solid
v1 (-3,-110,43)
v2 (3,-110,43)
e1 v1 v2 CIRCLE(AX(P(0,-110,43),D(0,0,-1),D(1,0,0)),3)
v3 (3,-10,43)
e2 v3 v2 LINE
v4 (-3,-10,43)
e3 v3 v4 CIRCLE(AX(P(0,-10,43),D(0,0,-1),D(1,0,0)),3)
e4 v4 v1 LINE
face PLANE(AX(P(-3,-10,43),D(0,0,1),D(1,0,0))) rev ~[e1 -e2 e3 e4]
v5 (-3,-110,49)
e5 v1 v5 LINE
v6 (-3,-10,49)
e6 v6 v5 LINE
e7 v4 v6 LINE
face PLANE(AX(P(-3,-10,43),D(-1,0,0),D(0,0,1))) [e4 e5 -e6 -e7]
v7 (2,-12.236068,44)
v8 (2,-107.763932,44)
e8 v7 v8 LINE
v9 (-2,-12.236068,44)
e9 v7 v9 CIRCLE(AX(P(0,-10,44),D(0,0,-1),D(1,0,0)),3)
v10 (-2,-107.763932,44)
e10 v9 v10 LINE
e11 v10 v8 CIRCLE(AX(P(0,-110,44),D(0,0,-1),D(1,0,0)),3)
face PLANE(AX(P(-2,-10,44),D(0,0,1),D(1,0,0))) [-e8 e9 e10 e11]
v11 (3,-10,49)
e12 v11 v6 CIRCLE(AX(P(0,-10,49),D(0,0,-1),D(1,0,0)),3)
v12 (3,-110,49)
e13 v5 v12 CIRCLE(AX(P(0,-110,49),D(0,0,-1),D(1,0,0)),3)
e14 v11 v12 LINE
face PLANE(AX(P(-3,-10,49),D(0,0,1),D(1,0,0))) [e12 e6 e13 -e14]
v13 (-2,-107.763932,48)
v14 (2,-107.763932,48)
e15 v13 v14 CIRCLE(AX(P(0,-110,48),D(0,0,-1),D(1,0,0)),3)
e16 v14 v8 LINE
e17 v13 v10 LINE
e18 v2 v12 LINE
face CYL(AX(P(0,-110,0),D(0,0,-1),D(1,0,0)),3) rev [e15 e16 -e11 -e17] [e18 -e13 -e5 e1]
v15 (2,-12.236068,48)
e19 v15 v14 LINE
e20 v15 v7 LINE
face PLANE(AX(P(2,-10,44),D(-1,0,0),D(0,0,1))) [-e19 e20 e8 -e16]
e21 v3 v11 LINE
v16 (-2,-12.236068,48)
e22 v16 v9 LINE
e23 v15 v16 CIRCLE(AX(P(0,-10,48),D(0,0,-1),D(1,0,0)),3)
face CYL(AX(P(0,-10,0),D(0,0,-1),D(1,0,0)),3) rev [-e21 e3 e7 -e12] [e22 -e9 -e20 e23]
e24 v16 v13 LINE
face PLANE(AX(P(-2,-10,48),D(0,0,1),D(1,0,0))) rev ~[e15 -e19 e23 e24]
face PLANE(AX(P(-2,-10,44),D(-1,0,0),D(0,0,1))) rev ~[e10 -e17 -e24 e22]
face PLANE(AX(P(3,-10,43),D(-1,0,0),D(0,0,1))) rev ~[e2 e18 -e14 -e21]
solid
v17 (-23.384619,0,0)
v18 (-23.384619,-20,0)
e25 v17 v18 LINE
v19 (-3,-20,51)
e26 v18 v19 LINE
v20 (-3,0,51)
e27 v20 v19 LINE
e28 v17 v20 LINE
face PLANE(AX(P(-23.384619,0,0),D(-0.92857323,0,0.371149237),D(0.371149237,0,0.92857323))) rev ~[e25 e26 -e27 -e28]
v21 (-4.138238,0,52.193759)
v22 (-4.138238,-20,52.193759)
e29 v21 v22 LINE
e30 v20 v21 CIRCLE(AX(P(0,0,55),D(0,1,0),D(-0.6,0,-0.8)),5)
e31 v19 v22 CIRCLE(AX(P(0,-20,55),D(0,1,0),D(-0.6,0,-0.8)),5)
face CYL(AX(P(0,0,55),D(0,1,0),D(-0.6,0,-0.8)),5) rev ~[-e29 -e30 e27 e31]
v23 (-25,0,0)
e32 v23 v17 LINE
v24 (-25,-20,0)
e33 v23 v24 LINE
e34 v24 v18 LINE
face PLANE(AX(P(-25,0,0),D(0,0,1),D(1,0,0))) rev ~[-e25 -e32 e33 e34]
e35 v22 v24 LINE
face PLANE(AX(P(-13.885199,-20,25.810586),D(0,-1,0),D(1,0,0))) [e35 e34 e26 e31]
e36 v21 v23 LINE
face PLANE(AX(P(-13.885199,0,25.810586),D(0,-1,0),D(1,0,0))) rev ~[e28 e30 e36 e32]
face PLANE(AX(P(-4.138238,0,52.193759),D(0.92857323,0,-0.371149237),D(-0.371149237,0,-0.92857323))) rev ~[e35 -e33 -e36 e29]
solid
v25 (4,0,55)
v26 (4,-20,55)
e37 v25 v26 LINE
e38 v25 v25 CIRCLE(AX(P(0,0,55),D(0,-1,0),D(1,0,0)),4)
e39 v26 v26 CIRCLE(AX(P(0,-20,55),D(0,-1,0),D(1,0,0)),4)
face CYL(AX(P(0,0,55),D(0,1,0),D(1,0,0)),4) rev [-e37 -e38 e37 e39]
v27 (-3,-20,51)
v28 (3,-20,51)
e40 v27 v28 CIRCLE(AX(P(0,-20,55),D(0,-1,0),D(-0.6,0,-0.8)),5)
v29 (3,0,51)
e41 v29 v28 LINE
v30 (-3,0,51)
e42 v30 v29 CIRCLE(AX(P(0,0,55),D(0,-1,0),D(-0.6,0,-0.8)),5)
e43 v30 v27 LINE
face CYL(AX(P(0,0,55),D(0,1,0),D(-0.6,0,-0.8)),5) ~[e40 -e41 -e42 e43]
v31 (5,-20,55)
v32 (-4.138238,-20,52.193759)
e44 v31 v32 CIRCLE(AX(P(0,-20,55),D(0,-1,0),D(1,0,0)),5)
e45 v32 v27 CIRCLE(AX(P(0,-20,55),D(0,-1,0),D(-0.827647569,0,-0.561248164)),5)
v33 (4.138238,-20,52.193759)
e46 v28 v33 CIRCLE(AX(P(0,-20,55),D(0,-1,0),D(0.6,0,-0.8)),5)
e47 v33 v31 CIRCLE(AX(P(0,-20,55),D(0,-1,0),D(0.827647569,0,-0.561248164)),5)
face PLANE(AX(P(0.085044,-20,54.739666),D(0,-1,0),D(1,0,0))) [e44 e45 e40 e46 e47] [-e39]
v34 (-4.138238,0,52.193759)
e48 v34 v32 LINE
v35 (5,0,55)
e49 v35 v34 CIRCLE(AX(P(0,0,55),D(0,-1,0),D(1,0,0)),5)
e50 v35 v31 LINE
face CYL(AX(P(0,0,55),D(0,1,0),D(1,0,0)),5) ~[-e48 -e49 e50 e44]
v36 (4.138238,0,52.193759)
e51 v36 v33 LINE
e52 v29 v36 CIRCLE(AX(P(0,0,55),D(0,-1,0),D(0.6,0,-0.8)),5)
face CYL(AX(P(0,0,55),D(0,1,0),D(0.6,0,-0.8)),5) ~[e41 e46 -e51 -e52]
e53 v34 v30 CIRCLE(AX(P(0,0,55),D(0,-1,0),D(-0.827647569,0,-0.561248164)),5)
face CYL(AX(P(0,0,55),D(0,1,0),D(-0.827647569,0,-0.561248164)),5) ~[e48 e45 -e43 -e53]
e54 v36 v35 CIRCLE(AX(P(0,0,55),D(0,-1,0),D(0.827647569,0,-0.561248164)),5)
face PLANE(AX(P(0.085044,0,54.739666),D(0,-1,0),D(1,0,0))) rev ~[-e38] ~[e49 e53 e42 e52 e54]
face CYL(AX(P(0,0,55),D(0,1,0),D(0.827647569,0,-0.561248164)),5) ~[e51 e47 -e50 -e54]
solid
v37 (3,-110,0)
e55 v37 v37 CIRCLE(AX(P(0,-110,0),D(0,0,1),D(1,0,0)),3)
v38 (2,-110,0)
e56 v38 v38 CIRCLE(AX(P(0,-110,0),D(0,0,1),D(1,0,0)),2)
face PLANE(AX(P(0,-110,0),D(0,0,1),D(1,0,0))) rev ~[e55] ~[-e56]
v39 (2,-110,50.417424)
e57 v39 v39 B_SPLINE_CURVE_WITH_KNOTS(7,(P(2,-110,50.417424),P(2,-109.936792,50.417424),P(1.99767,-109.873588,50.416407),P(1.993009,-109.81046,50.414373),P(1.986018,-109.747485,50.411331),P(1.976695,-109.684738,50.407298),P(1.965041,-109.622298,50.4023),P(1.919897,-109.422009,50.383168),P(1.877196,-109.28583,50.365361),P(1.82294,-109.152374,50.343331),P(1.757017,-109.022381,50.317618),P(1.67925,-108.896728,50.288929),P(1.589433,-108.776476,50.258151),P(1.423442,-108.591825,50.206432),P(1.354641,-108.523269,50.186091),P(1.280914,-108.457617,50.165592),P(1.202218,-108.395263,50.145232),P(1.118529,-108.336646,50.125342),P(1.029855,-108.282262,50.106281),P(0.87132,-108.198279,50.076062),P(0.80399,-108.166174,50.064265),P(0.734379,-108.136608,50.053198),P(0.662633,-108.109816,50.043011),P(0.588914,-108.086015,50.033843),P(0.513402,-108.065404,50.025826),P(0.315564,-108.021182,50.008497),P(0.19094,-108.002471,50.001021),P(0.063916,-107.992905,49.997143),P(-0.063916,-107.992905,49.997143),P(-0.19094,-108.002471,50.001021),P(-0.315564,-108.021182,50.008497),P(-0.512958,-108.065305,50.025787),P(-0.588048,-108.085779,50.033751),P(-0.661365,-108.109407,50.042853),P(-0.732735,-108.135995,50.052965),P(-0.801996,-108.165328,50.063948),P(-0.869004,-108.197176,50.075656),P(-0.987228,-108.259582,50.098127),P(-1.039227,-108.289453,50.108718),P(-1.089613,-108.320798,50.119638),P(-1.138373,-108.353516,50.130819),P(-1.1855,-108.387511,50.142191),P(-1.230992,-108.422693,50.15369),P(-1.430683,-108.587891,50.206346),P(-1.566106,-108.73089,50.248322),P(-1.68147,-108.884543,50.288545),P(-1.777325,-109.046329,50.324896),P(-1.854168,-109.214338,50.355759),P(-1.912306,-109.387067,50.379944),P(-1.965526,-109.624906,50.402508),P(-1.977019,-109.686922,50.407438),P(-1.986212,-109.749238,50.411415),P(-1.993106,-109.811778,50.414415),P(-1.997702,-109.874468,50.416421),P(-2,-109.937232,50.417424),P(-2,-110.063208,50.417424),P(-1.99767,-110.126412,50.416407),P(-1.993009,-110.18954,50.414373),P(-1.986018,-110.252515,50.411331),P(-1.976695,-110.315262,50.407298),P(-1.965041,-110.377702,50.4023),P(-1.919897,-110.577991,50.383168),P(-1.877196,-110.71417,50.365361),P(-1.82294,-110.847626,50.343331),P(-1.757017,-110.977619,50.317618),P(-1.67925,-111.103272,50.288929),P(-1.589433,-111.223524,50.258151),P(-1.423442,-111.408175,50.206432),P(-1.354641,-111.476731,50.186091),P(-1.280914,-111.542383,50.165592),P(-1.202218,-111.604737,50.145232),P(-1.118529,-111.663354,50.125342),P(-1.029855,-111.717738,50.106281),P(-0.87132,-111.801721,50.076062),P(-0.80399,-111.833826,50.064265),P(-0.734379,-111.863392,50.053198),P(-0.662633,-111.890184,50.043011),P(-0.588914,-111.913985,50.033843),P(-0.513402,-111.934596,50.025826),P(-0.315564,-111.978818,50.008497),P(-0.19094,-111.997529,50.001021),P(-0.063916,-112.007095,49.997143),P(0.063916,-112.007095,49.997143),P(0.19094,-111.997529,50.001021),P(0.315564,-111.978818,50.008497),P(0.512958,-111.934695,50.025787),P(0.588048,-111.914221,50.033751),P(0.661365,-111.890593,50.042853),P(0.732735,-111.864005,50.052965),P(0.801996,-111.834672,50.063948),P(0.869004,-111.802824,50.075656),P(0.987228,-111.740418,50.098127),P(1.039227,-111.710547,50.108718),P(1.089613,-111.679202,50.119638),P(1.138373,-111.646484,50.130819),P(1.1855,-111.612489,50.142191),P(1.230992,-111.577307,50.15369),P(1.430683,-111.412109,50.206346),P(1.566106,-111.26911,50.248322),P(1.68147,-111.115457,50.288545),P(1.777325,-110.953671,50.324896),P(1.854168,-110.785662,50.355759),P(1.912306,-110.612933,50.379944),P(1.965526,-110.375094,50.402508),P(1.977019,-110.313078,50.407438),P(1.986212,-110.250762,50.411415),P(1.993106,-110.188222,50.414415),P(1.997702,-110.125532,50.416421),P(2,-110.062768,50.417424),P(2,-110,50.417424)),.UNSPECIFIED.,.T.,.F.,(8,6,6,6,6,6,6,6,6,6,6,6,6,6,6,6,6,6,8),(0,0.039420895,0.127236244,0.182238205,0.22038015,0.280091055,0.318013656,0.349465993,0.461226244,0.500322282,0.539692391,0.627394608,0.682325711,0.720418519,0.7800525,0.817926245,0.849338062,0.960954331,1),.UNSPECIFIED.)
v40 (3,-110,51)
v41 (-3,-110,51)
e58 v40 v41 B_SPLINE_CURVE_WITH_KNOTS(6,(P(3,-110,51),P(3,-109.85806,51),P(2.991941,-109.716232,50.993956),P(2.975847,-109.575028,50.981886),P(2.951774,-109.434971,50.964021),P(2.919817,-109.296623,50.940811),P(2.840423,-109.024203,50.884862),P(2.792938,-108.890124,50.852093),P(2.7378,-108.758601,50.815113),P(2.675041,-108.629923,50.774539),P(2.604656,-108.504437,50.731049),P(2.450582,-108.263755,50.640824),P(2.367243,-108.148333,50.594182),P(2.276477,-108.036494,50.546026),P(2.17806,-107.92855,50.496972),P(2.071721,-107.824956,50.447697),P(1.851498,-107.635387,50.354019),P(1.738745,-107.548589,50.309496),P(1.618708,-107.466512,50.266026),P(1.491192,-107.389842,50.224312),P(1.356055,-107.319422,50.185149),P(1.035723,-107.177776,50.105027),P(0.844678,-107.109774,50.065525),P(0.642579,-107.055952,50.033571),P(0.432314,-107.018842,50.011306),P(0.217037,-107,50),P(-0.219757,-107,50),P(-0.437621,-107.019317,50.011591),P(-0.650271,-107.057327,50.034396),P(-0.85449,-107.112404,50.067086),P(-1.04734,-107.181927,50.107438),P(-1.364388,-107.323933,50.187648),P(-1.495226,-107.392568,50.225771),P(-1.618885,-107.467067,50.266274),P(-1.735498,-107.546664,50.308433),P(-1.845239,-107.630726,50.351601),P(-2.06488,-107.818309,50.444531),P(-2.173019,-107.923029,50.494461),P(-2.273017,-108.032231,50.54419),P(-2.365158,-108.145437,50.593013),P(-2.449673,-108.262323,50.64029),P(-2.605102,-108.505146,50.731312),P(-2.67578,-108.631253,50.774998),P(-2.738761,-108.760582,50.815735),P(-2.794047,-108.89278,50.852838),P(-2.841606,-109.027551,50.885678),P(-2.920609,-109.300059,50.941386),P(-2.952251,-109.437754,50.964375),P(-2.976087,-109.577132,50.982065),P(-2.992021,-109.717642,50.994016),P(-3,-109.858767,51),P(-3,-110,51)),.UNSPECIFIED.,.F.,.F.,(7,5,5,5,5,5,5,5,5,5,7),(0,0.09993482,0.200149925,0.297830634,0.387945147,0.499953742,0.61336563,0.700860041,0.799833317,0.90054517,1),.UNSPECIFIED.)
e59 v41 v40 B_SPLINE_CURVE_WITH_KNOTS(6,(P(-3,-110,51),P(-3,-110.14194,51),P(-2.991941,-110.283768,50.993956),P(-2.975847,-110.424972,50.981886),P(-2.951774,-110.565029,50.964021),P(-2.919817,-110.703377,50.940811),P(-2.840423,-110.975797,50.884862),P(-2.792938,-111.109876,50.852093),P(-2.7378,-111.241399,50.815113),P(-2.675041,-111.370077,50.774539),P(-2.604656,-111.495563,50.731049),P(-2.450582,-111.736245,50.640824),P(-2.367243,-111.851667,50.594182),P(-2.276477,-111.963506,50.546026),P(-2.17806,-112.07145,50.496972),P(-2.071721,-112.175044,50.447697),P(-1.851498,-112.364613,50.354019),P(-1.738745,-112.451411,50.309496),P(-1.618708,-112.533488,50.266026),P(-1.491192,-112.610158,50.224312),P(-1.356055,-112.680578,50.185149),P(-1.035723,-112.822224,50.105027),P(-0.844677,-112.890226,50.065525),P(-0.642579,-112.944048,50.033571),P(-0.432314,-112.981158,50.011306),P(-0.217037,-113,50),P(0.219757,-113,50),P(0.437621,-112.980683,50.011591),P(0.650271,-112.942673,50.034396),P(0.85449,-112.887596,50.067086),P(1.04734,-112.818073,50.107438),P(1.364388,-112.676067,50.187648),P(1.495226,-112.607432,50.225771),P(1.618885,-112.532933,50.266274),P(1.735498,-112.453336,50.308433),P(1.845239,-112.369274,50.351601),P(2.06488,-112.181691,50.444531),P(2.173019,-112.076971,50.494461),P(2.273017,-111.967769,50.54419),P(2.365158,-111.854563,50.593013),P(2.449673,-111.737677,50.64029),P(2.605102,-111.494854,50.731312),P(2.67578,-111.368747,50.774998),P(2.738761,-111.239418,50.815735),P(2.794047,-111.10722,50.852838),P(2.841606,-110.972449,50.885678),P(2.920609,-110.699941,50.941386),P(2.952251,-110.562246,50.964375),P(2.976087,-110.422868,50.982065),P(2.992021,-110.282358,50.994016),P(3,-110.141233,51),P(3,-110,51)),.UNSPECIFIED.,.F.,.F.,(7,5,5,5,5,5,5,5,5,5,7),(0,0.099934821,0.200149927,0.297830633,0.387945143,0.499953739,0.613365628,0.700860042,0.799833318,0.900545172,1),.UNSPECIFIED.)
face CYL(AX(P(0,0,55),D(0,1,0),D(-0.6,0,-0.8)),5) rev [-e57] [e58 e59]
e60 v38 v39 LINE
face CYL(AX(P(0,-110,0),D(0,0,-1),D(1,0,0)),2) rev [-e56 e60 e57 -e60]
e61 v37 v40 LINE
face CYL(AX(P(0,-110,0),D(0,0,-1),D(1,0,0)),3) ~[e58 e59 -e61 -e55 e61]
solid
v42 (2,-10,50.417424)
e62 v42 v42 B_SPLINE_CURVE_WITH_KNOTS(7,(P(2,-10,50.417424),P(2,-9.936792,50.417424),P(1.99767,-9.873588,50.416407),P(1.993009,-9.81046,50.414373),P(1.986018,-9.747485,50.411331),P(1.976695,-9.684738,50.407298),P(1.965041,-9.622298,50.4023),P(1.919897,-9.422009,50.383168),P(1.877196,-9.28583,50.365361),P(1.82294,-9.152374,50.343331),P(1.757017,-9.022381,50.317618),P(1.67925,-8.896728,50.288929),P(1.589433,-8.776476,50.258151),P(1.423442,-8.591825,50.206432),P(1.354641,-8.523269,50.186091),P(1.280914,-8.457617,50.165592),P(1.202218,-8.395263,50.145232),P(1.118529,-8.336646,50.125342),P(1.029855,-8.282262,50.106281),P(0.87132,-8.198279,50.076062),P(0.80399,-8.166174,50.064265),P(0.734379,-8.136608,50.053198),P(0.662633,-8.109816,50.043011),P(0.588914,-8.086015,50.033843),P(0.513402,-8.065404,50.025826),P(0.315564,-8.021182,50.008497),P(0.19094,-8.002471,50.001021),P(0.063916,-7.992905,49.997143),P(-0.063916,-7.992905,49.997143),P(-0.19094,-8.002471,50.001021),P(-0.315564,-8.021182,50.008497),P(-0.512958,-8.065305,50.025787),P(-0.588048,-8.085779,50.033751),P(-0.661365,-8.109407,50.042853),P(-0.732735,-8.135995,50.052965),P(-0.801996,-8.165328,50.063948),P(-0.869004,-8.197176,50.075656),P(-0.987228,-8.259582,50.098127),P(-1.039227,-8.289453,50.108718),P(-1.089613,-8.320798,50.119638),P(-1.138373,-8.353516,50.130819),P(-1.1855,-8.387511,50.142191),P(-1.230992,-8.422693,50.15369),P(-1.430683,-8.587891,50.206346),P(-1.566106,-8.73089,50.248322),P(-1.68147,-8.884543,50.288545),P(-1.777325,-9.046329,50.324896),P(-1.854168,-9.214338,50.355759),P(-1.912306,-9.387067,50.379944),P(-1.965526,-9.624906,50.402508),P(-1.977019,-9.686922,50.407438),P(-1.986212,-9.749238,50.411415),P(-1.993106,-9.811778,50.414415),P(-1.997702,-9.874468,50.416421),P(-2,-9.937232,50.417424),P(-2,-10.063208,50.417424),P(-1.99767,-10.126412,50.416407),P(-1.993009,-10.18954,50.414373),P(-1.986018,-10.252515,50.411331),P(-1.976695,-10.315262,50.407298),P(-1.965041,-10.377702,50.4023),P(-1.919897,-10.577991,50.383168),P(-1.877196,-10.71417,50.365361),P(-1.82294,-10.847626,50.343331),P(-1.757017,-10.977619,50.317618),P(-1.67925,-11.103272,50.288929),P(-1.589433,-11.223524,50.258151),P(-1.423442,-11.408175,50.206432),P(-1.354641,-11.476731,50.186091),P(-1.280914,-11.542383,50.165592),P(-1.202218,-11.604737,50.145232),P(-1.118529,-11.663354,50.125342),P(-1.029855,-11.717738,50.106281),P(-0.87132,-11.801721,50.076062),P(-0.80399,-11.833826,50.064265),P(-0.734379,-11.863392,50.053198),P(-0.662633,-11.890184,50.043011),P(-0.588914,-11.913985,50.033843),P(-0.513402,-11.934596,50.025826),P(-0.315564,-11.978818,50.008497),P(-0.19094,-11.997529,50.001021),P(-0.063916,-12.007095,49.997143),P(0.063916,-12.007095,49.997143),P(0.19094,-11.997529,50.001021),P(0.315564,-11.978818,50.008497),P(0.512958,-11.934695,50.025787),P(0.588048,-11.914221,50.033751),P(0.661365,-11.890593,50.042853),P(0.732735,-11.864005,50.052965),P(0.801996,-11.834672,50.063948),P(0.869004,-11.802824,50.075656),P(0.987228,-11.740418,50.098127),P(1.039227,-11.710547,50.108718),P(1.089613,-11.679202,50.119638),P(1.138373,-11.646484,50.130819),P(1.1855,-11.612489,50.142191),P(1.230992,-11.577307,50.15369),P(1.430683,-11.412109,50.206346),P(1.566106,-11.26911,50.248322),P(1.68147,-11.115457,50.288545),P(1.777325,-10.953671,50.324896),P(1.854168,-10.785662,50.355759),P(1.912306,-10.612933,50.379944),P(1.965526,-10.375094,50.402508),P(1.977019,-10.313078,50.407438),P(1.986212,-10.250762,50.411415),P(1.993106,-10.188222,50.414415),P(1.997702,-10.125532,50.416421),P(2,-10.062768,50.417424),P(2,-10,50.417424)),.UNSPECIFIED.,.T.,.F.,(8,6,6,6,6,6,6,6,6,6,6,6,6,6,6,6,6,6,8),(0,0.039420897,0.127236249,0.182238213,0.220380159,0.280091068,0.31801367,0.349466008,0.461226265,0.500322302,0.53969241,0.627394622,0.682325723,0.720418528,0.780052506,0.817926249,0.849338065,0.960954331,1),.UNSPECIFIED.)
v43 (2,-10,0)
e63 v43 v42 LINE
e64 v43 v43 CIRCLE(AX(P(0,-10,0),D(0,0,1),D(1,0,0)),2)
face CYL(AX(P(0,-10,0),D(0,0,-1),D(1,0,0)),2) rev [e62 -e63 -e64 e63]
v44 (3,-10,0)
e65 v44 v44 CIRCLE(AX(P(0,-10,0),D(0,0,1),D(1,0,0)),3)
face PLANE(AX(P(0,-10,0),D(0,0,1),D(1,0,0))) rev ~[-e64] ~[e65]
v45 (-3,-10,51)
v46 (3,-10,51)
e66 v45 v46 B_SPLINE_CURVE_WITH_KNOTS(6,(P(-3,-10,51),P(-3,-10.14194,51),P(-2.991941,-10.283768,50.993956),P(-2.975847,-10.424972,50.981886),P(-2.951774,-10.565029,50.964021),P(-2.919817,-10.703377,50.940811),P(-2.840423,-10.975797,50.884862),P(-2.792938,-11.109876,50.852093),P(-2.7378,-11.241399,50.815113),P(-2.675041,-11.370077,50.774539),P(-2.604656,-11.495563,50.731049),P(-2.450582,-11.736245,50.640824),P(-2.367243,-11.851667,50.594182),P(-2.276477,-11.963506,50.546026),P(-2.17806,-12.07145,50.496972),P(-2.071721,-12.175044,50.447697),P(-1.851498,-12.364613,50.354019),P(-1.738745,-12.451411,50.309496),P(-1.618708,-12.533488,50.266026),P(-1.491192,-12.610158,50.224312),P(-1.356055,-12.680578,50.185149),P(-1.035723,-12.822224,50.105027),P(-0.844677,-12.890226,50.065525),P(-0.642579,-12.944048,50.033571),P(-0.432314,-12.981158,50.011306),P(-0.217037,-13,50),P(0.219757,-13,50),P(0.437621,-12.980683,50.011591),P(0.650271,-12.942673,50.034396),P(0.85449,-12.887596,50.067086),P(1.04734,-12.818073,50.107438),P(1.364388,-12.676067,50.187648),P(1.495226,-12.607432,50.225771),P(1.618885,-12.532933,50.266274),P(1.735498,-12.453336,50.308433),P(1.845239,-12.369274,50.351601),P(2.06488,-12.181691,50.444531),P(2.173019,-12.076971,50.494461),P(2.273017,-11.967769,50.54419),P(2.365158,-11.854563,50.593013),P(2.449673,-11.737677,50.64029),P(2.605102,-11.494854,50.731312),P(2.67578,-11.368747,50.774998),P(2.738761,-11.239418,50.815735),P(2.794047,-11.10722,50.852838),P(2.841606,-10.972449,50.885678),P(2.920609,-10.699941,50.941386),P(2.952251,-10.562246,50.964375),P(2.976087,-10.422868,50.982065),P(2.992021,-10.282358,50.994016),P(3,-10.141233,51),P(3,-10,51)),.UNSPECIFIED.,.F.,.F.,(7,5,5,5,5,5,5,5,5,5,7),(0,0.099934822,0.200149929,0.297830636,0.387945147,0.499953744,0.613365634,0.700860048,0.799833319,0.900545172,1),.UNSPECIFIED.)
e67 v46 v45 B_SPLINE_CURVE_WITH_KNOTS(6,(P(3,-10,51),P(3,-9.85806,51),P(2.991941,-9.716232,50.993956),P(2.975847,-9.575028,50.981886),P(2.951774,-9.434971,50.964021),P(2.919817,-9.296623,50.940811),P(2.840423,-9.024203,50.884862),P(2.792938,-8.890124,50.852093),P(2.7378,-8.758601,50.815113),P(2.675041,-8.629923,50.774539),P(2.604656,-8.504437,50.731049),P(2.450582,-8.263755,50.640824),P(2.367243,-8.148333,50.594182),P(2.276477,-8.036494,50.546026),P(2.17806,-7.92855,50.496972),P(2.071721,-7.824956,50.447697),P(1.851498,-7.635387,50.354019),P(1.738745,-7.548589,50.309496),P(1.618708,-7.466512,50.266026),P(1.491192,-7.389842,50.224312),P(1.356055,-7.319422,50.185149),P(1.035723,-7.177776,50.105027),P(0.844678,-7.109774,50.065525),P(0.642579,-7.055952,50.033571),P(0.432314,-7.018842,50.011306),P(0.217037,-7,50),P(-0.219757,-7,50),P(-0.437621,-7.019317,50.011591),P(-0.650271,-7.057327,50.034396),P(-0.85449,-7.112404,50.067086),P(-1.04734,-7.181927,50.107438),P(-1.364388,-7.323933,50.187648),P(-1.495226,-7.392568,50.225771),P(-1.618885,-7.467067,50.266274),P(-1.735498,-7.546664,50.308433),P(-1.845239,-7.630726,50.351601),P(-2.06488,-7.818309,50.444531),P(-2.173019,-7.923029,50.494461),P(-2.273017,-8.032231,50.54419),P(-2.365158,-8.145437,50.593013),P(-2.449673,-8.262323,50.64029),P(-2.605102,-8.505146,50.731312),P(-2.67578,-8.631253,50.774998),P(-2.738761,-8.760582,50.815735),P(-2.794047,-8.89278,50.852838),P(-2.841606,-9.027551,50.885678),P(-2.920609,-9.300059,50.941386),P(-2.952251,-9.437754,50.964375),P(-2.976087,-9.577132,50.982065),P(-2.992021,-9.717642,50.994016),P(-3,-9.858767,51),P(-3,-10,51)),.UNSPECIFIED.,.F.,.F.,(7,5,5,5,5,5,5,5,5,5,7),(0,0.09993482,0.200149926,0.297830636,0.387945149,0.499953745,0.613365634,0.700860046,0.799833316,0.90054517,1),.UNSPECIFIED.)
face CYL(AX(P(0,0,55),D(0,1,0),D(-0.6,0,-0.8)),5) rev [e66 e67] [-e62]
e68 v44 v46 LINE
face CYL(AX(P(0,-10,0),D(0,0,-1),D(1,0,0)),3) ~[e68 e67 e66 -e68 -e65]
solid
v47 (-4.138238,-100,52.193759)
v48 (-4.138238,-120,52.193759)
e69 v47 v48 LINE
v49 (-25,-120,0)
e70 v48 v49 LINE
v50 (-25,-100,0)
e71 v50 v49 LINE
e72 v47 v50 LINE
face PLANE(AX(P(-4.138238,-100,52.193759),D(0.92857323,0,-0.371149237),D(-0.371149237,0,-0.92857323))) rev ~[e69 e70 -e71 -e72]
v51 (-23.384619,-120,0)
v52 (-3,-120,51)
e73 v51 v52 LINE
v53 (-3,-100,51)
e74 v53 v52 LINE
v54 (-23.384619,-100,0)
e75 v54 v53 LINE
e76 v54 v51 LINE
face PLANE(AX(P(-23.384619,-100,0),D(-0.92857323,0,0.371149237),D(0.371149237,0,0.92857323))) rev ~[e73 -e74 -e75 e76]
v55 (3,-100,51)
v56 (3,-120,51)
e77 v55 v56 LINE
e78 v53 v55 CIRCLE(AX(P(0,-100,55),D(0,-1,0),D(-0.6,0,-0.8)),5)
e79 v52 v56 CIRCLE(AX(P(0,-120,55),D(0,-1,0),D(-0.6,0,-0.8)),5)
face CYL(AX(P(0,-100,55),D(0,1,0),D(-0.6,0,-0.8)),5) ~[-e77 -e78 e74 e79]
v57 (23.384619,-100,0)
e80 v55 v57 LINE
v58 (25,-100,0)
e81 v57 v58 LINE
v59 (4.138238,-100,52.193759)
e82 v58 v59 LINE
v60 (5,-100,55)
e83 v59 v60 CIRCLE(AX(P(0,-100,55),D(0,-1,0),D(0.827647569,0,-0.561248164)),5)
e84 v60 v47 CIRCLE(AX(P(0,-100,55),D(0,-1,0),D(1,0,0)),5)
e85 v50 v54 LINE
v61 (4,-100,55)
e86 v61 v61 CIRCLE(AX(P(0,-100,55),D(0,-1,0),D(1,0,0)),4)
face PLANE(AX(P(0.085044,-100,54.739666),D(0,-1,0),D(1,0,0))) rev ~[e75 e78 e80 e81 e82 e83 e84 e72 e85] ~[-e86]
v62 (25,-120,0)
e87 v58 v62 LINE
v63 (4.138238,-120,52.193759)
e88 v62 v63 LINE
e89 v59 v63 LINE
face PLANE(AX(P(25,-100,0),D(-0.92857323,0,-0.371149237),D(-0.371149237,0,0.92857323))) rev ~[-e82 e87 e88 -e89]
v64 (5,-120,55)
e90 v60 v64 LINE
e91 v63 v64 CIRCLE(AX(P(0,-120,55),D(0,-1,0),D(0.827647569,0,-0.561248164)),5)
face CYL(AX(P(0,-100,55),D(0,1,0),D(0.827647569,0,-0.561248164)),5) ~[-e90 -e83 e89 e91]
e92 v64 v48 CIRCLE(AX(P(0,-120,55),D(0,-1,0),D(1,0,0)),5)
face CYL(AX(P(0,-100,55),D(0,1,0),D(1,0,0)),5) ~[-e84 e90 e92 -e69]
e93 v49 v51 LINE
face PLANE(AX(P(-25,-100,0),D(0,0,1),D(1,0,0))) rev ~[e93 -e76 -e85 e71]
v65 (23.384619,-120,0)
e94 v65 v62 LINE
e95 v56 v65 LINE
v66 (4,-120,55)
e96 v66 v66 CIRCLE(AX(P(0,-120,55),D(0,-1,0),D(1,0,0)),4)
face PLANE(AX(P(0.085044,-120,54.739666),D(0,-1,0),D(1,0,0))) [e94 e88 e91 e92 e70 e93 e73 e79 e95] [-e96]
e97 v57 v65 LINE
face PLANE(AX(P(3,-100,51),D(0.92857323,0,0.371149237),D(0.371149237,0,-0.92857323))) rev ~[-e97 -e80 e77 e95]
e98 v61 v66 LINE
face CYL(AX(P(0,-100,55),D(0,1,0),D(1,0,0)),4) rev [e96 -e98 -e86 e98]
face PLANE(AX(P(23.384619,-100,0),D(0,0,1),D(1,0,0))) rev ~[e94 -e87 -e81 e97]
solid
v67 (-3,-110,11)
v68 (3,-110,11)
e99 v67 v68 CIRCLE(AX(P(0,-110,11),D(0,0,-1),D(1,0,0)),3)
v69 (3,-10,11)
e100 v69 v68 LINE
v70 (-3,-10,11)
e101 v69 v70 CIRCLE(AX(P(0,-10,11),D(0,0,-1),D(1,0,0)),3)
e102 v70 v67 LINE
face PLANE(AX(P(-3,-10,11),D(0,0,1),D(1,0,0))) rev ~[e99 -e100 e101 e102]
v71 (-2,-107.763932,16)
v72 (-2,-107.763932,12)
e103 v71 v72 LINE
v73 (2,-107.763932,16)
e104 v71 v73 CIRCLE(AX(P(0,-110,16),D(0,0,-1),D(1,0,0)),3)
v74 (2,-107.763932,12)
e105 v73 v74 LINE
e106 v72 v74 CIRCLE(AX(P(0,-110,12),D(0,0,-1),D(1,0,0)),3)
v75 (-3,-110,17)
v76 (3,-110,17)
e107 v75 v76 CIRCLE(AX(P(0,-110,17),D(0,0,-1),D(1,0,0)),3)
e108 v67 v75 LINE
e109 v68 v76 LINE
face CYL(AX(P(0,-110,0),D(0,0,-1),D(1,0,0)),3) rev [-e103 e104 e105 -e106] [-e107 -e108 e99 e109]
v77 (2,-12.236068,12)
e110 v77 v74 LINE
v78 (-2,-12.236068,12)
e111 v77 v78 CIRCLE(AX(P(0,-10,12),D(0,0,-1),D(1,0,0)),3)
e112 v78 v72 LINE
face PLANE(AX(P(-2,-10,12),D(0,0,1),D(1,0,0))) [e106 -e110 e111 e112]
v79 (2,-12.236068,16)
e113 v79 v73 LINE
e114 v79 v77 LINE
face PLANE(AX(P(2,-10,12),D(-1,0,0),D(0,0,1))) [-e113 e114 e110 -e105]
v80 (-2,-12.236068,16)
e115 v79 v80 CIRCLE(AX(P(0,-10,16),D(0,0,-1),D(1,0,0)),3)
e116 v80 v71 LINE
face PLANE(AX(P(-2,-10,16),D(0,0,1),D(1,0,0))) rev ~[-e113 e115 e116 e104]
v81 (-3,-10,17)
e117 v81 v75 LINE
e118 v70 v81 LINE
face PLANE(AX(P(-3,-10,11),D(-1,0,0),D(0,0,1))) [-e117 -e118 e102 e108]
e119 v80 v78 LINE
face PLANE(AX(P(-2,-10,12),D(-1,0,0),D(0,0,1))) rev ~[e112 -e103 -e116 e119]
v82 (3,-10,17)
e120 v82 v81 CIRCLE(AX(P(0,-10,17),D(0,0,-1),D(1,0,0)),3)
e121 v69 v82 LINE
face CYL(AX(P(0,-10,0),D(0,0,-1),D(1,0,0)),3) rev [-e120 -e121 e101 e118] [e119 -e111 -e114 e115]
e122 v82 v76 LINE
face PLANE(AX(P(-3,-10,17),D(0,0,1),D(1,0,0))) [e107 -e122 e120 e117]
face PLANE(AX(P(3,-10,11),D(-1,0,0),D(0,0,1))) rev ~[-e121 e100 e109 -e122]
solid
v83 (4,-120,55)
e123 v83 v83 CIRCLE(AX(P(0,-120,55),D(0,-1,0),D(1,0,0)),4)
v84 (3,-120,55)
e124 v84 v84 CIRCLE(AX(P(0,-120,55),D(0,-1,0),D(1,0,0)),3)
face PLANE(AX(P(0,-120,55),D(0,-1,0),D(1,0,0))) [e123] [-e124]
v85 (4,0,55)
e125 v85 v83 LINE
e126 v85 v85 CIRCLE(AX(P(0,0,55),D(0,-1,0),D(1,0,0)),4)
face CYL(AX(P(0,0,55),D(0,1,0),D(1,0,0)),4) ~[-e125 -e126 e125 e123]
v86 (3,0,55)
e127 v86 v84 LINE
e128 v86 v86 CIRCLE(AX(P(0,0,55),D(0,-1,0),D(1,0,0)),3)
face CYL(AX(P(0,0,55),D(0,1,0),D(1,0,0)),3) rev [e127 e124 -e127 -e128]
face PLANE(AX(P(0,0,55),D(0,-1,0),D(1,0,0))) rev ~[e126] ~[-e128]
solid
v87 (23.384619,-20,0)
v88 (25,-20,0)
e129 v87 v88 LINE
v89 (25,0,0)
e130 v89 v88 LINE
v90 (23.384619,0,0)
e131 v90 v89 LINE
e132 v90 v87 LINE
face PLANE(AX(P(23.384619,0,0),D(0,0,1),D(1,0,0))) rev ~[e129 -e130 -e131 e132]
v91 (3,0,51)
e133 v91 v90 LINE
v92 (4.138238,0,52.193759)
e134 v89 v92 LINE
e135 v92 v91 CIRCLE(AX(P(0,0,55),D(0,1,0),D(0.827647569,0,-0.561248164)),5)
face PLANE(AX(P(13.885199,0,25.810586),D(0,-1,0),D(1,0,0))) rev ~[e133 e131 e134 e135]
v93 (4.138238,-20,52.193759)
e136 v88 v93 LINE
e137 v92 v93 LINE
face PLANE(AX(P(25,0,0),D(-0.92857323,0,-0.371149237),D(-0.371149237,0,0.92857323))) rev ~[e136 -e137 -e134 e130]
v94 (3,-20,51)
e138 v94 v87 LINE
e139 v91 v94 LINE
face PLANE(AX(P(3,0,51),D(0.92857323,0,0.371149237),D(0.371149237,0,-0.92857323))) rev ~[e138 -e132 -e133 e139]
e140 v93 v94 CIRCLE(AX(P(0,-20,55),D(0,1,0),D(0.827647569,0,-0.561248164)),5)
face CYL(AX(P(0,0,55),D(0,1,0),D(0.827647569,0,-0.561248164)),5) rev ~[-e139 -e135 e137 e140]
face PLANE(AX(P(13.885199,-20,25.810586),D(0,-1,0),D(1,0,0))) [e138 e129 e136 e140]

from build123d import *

# Parameters (mm, degrees)
F2_DEPTH = 20
F3_START = 10
F1_W     = 6
F1_H     = 6
F1_W_2   = 4
F1_H_2   = 4
F3_DEPTH = 100
F0_R     = 3
F0_R_2   = 2
F4_DEPTH = 50
F5_DEPTH = 55
F1_R     = 4
F1_R_2   = 3
F6_DEPTH = 120
F7_DEPTH = 20
F8_START = 100
F8_DEPTH = 20
F9_DEPTH = 120


with BuildPart() as f2:
    # F1 (on Front) → F2 (new body)
    with BuildSketch(Plane.XZ):
        with BuildLine():
            ThreePointArc((-3, 51), (-3.6186841703, 51.5496196043), (-4.1382378442, 52.1937591792))
            Line((-4.1382378442, 52.1937591792), (-25, 0))
            Line((-25, 0), (-23.3846185191, 0))
            Line((-23.3846185191, 0), (-3, 51))
        make_face()
    extrude(amount=F2_DEPTH)


with BuildPart() as f2b:
    # F1 (on Front) → F2, piece 2 (new body)
    with BuildSketch(Plane.XZ):
        with BuildLine():
            Line((25, 0), (4.1382378442, 52.1937591792))
            ThreePointArc((4.1382378442, 52.1937591792), (3.6186841703, 51.5496196043), (3, 51))
            Line((3, 51), (23.3846185191, 0))
            Line((23.3846185191, 0), (25, 0))
        make_face()
    extrude(amount=F2_DEPTH)


with BuildPart() as f3:
    # F1 (on Front) → F3 (new body)
    with BuildSketch(Plane.XZ.offset(F3_START)):
        with Locations((0, 46)):
            Rectangle(F1_W, F1_H)
        with Locations((0, 46)):
            Rectangle(F1_W_2, F1_H_2, mode=Mode.SUBTRACT)
    extrude(amount=F3_DEPTH)


with BuildPart() as f3b:
    # F1 (on Front) → F3, piece 2 (new body)
    with BuildSketch(Plane.XZ.offset(F3_START)):
        with Locations((-2.61e-08, 14)):
            Rectangle(F1_W, F1_H)
        with Locations((-2.61e-08, 14)):
            Rectangle(F1_W_2, F1_H_2, mode=Mode.SUBTRACT)
    extrude(amount=F3_DEPTH)


with BuildPart() as f4_tool:
    # F0 (on Top) → F4 (new body)
    with BuildSketch(Plane.XY):
        with Locations((0, -10)):
            Circle(F0_R)
        with Locations((0, -10)):
            Circle(F0_R_2, mode=Mode.SUBTRACT)
        with Locations((0, -110)):
            Circle(F0_R)
        with Locations((0, -110)):
            Circle(F0_R_2, mode=Mode.SUBTRACT)
        with Locations((0, -10)):
            Circle(F0_R_2)
        with Locations((0, -110)):
            Circle(F0_R_2)
    extrude(amount=F4_DEPTH)


with BuildPart() as f3_1:
    add(f3.part)

    # F4: cut by f4_tool
    add(f4_tool.part, mode=Mode.SUBTRACT)


with BuildPart() as f3b_1:
    add(f3b.part)

    # F4: cut by f4_tool
    add(f4_tool.part, mode=Mode.SUBTRACT)


with BuildPart() as f5:
    # F0 (on Top) → F5 (new body)
    with BuildSketch(Plane.XY):
        with Locations((0, -10)):
            Circle(F0_R)
        with Locations((0, -10)):
            Circle(F0_R_2, mode=Mode.SUBTRACT)
    extrude(amount=F5_DEPTH)


with BuildPart() as f5b:
    # F0 (on Top) → F5, piece 2 (new body)
    with BuildSketch(Plane.XY):
        with Locations((0, -110)):
            Circle(F0_R)
        with Locations((0, -110)):
            Circle(F0_R_2, mode=Mode.SUBTRACT)
    extrude(amount=F5_DEPTH)


with BuildPart() as f6_tool:
    # F1 (on Front) → F6 (new body)
    with BuildSketch(Plane.XZ):
        with BuildLine():
            ThreePointArc((4.1382378442, 52.1937591792), (4.7797065402, 53.5322107135), (5, 55))
            ThreePointArc((5, 55), (-1.4677892865, 59.7797065402), (-4.1382378442, 52.1937591792))
            ThreePointArc((-4.1382378442, 52.1937591792), (-3.6186841703, 51.5496196043), (-3, 51))
            ThreePointArc((-3, 51), (0, 50), (3, 51))
            ThreePointArc((3, 51), (3.6186841703, 51.5496196043), (4.1382378442, 52.1937591792))
        make_face()
        with Locations((0, 55)):
            Circle(F1_R, mode=Mode.SUBTRACT)
        with Locations((0, 55)):
            Circle(F1_R)
        with Locations((0, 55)):
            Circle(F1_R_2, mode=Mode.SUBTRACT)
        with Locations((0, 55)):
            Circle(F1_R_2)
    extrude(amount=F6_DEPTH)


with BuildPart() as f5_1:
    add(f5.part)

    # F6: cut by f6_tool
    add(f6_tool.part, mode=Mode.SUBTRACT)


with BuildPart() as f5b_1:
    add(f5b.part)

    # F6: cut by f6_tool
    add(f6_tool.part, mode=Mode.SUBTRACT)


with BuildPart() as f7:
    # F1 (on Front) → F7 (new body)
    with BuildSketch(Plane.XZ):
        with BuildLine():
            ThreePointArc((4.1382378442, 52.1937591792), (4.7797065402, 53.5322107135), (5, 55))
            ThreePointArc((5, 55), (-1.4677892865, 59.7797065402), (-4.1382378442, 52.1937591792))
            ThreePointArc((-4.1382378442, 52.1937591792), (-3.6186841703, 51.5496196043), (-3, 51))
            ThreePointArc((-3, 51), (0, 50), (3, 51))
            ThreePointArc((3, 51), (3.6186841703, 51.5496196043), (4.1382378442, 52.1937591792))
        make_face()
        with Locations((0, 55)):
            Circle(F1_R, mode=Mode.SUBTRACT)
    extrude(amount=F7_DEPTH)


with BuildPart() as f8:
    # F1 (on Front) → F8 (new body)
    with BuildSketch(Plane.XZ.offset(F8_START)):
        with BuildLine():
            ThreePointArc((4.1382378442, 52.1937591792), (4.7797065402, 53.5322107135), (5, 55))
            ThreePointArc((5, 55), (-1.4677892865, 59.7797065402), (-4.1382378442, 52.1937591792))
            ThreePointArc((-4.1382378442, 52.1937591792), (-3.6186841703, 51.5496196043), (-3, 51))
            ThreePointArc((-3, 51), (0, 50), (3, 51))
            ThreePointArc((3, 51), (3.6186841703, 51.5496196043), (4.1382378442, 52.1937591792))
        make_face()
        with Locations((0, 55)):
            Circle(F1_R, mode=Mode.SUBTRACT)
        with BuildLine():
            ThreePointArc((-3, 51), (-3.6186841703, 51.5496196043), (-4.1382378442, 52.1937591792))
            Line((-4.1382378442, 52.1937591792), (-25, 0))
            Line((-25, 0), (-23.3846185191, 0))
            Line((-23.3846185191, 0), (-3, 51))
        make_face()
        with BuildLine():
            Line((25, 0), (4.1382378442, 52.1937591792))
            ThreePointArc((4.1382378442, 52.1937591792), (3.6186841703, 51.5496196043), (3, 51))
            Line((3, 51), (23.3846185191, 0))
            Line((23.3846185191, 0), (25, 0))
        make_face()
    extrude(amount=F8_DEPTH)


with BuildPart() as f9:
    # F1 (on Front) → F9 (new body)
    with BuildSketch(Plane.XZ):
        with Locations((0, 55)):
            Circle(F1_R)
        with Locations((0, 55)):
            Circle(F1_R_2, mode=Mode.SUBTRACT)
    extrude(amount=F9_DEPTH)


solid = Compound([f2.part, f2b.part, f3_1.part, f3b_1.part, f5_1.part, f5b_1.part, f7.part, f8.part, f9.part])
